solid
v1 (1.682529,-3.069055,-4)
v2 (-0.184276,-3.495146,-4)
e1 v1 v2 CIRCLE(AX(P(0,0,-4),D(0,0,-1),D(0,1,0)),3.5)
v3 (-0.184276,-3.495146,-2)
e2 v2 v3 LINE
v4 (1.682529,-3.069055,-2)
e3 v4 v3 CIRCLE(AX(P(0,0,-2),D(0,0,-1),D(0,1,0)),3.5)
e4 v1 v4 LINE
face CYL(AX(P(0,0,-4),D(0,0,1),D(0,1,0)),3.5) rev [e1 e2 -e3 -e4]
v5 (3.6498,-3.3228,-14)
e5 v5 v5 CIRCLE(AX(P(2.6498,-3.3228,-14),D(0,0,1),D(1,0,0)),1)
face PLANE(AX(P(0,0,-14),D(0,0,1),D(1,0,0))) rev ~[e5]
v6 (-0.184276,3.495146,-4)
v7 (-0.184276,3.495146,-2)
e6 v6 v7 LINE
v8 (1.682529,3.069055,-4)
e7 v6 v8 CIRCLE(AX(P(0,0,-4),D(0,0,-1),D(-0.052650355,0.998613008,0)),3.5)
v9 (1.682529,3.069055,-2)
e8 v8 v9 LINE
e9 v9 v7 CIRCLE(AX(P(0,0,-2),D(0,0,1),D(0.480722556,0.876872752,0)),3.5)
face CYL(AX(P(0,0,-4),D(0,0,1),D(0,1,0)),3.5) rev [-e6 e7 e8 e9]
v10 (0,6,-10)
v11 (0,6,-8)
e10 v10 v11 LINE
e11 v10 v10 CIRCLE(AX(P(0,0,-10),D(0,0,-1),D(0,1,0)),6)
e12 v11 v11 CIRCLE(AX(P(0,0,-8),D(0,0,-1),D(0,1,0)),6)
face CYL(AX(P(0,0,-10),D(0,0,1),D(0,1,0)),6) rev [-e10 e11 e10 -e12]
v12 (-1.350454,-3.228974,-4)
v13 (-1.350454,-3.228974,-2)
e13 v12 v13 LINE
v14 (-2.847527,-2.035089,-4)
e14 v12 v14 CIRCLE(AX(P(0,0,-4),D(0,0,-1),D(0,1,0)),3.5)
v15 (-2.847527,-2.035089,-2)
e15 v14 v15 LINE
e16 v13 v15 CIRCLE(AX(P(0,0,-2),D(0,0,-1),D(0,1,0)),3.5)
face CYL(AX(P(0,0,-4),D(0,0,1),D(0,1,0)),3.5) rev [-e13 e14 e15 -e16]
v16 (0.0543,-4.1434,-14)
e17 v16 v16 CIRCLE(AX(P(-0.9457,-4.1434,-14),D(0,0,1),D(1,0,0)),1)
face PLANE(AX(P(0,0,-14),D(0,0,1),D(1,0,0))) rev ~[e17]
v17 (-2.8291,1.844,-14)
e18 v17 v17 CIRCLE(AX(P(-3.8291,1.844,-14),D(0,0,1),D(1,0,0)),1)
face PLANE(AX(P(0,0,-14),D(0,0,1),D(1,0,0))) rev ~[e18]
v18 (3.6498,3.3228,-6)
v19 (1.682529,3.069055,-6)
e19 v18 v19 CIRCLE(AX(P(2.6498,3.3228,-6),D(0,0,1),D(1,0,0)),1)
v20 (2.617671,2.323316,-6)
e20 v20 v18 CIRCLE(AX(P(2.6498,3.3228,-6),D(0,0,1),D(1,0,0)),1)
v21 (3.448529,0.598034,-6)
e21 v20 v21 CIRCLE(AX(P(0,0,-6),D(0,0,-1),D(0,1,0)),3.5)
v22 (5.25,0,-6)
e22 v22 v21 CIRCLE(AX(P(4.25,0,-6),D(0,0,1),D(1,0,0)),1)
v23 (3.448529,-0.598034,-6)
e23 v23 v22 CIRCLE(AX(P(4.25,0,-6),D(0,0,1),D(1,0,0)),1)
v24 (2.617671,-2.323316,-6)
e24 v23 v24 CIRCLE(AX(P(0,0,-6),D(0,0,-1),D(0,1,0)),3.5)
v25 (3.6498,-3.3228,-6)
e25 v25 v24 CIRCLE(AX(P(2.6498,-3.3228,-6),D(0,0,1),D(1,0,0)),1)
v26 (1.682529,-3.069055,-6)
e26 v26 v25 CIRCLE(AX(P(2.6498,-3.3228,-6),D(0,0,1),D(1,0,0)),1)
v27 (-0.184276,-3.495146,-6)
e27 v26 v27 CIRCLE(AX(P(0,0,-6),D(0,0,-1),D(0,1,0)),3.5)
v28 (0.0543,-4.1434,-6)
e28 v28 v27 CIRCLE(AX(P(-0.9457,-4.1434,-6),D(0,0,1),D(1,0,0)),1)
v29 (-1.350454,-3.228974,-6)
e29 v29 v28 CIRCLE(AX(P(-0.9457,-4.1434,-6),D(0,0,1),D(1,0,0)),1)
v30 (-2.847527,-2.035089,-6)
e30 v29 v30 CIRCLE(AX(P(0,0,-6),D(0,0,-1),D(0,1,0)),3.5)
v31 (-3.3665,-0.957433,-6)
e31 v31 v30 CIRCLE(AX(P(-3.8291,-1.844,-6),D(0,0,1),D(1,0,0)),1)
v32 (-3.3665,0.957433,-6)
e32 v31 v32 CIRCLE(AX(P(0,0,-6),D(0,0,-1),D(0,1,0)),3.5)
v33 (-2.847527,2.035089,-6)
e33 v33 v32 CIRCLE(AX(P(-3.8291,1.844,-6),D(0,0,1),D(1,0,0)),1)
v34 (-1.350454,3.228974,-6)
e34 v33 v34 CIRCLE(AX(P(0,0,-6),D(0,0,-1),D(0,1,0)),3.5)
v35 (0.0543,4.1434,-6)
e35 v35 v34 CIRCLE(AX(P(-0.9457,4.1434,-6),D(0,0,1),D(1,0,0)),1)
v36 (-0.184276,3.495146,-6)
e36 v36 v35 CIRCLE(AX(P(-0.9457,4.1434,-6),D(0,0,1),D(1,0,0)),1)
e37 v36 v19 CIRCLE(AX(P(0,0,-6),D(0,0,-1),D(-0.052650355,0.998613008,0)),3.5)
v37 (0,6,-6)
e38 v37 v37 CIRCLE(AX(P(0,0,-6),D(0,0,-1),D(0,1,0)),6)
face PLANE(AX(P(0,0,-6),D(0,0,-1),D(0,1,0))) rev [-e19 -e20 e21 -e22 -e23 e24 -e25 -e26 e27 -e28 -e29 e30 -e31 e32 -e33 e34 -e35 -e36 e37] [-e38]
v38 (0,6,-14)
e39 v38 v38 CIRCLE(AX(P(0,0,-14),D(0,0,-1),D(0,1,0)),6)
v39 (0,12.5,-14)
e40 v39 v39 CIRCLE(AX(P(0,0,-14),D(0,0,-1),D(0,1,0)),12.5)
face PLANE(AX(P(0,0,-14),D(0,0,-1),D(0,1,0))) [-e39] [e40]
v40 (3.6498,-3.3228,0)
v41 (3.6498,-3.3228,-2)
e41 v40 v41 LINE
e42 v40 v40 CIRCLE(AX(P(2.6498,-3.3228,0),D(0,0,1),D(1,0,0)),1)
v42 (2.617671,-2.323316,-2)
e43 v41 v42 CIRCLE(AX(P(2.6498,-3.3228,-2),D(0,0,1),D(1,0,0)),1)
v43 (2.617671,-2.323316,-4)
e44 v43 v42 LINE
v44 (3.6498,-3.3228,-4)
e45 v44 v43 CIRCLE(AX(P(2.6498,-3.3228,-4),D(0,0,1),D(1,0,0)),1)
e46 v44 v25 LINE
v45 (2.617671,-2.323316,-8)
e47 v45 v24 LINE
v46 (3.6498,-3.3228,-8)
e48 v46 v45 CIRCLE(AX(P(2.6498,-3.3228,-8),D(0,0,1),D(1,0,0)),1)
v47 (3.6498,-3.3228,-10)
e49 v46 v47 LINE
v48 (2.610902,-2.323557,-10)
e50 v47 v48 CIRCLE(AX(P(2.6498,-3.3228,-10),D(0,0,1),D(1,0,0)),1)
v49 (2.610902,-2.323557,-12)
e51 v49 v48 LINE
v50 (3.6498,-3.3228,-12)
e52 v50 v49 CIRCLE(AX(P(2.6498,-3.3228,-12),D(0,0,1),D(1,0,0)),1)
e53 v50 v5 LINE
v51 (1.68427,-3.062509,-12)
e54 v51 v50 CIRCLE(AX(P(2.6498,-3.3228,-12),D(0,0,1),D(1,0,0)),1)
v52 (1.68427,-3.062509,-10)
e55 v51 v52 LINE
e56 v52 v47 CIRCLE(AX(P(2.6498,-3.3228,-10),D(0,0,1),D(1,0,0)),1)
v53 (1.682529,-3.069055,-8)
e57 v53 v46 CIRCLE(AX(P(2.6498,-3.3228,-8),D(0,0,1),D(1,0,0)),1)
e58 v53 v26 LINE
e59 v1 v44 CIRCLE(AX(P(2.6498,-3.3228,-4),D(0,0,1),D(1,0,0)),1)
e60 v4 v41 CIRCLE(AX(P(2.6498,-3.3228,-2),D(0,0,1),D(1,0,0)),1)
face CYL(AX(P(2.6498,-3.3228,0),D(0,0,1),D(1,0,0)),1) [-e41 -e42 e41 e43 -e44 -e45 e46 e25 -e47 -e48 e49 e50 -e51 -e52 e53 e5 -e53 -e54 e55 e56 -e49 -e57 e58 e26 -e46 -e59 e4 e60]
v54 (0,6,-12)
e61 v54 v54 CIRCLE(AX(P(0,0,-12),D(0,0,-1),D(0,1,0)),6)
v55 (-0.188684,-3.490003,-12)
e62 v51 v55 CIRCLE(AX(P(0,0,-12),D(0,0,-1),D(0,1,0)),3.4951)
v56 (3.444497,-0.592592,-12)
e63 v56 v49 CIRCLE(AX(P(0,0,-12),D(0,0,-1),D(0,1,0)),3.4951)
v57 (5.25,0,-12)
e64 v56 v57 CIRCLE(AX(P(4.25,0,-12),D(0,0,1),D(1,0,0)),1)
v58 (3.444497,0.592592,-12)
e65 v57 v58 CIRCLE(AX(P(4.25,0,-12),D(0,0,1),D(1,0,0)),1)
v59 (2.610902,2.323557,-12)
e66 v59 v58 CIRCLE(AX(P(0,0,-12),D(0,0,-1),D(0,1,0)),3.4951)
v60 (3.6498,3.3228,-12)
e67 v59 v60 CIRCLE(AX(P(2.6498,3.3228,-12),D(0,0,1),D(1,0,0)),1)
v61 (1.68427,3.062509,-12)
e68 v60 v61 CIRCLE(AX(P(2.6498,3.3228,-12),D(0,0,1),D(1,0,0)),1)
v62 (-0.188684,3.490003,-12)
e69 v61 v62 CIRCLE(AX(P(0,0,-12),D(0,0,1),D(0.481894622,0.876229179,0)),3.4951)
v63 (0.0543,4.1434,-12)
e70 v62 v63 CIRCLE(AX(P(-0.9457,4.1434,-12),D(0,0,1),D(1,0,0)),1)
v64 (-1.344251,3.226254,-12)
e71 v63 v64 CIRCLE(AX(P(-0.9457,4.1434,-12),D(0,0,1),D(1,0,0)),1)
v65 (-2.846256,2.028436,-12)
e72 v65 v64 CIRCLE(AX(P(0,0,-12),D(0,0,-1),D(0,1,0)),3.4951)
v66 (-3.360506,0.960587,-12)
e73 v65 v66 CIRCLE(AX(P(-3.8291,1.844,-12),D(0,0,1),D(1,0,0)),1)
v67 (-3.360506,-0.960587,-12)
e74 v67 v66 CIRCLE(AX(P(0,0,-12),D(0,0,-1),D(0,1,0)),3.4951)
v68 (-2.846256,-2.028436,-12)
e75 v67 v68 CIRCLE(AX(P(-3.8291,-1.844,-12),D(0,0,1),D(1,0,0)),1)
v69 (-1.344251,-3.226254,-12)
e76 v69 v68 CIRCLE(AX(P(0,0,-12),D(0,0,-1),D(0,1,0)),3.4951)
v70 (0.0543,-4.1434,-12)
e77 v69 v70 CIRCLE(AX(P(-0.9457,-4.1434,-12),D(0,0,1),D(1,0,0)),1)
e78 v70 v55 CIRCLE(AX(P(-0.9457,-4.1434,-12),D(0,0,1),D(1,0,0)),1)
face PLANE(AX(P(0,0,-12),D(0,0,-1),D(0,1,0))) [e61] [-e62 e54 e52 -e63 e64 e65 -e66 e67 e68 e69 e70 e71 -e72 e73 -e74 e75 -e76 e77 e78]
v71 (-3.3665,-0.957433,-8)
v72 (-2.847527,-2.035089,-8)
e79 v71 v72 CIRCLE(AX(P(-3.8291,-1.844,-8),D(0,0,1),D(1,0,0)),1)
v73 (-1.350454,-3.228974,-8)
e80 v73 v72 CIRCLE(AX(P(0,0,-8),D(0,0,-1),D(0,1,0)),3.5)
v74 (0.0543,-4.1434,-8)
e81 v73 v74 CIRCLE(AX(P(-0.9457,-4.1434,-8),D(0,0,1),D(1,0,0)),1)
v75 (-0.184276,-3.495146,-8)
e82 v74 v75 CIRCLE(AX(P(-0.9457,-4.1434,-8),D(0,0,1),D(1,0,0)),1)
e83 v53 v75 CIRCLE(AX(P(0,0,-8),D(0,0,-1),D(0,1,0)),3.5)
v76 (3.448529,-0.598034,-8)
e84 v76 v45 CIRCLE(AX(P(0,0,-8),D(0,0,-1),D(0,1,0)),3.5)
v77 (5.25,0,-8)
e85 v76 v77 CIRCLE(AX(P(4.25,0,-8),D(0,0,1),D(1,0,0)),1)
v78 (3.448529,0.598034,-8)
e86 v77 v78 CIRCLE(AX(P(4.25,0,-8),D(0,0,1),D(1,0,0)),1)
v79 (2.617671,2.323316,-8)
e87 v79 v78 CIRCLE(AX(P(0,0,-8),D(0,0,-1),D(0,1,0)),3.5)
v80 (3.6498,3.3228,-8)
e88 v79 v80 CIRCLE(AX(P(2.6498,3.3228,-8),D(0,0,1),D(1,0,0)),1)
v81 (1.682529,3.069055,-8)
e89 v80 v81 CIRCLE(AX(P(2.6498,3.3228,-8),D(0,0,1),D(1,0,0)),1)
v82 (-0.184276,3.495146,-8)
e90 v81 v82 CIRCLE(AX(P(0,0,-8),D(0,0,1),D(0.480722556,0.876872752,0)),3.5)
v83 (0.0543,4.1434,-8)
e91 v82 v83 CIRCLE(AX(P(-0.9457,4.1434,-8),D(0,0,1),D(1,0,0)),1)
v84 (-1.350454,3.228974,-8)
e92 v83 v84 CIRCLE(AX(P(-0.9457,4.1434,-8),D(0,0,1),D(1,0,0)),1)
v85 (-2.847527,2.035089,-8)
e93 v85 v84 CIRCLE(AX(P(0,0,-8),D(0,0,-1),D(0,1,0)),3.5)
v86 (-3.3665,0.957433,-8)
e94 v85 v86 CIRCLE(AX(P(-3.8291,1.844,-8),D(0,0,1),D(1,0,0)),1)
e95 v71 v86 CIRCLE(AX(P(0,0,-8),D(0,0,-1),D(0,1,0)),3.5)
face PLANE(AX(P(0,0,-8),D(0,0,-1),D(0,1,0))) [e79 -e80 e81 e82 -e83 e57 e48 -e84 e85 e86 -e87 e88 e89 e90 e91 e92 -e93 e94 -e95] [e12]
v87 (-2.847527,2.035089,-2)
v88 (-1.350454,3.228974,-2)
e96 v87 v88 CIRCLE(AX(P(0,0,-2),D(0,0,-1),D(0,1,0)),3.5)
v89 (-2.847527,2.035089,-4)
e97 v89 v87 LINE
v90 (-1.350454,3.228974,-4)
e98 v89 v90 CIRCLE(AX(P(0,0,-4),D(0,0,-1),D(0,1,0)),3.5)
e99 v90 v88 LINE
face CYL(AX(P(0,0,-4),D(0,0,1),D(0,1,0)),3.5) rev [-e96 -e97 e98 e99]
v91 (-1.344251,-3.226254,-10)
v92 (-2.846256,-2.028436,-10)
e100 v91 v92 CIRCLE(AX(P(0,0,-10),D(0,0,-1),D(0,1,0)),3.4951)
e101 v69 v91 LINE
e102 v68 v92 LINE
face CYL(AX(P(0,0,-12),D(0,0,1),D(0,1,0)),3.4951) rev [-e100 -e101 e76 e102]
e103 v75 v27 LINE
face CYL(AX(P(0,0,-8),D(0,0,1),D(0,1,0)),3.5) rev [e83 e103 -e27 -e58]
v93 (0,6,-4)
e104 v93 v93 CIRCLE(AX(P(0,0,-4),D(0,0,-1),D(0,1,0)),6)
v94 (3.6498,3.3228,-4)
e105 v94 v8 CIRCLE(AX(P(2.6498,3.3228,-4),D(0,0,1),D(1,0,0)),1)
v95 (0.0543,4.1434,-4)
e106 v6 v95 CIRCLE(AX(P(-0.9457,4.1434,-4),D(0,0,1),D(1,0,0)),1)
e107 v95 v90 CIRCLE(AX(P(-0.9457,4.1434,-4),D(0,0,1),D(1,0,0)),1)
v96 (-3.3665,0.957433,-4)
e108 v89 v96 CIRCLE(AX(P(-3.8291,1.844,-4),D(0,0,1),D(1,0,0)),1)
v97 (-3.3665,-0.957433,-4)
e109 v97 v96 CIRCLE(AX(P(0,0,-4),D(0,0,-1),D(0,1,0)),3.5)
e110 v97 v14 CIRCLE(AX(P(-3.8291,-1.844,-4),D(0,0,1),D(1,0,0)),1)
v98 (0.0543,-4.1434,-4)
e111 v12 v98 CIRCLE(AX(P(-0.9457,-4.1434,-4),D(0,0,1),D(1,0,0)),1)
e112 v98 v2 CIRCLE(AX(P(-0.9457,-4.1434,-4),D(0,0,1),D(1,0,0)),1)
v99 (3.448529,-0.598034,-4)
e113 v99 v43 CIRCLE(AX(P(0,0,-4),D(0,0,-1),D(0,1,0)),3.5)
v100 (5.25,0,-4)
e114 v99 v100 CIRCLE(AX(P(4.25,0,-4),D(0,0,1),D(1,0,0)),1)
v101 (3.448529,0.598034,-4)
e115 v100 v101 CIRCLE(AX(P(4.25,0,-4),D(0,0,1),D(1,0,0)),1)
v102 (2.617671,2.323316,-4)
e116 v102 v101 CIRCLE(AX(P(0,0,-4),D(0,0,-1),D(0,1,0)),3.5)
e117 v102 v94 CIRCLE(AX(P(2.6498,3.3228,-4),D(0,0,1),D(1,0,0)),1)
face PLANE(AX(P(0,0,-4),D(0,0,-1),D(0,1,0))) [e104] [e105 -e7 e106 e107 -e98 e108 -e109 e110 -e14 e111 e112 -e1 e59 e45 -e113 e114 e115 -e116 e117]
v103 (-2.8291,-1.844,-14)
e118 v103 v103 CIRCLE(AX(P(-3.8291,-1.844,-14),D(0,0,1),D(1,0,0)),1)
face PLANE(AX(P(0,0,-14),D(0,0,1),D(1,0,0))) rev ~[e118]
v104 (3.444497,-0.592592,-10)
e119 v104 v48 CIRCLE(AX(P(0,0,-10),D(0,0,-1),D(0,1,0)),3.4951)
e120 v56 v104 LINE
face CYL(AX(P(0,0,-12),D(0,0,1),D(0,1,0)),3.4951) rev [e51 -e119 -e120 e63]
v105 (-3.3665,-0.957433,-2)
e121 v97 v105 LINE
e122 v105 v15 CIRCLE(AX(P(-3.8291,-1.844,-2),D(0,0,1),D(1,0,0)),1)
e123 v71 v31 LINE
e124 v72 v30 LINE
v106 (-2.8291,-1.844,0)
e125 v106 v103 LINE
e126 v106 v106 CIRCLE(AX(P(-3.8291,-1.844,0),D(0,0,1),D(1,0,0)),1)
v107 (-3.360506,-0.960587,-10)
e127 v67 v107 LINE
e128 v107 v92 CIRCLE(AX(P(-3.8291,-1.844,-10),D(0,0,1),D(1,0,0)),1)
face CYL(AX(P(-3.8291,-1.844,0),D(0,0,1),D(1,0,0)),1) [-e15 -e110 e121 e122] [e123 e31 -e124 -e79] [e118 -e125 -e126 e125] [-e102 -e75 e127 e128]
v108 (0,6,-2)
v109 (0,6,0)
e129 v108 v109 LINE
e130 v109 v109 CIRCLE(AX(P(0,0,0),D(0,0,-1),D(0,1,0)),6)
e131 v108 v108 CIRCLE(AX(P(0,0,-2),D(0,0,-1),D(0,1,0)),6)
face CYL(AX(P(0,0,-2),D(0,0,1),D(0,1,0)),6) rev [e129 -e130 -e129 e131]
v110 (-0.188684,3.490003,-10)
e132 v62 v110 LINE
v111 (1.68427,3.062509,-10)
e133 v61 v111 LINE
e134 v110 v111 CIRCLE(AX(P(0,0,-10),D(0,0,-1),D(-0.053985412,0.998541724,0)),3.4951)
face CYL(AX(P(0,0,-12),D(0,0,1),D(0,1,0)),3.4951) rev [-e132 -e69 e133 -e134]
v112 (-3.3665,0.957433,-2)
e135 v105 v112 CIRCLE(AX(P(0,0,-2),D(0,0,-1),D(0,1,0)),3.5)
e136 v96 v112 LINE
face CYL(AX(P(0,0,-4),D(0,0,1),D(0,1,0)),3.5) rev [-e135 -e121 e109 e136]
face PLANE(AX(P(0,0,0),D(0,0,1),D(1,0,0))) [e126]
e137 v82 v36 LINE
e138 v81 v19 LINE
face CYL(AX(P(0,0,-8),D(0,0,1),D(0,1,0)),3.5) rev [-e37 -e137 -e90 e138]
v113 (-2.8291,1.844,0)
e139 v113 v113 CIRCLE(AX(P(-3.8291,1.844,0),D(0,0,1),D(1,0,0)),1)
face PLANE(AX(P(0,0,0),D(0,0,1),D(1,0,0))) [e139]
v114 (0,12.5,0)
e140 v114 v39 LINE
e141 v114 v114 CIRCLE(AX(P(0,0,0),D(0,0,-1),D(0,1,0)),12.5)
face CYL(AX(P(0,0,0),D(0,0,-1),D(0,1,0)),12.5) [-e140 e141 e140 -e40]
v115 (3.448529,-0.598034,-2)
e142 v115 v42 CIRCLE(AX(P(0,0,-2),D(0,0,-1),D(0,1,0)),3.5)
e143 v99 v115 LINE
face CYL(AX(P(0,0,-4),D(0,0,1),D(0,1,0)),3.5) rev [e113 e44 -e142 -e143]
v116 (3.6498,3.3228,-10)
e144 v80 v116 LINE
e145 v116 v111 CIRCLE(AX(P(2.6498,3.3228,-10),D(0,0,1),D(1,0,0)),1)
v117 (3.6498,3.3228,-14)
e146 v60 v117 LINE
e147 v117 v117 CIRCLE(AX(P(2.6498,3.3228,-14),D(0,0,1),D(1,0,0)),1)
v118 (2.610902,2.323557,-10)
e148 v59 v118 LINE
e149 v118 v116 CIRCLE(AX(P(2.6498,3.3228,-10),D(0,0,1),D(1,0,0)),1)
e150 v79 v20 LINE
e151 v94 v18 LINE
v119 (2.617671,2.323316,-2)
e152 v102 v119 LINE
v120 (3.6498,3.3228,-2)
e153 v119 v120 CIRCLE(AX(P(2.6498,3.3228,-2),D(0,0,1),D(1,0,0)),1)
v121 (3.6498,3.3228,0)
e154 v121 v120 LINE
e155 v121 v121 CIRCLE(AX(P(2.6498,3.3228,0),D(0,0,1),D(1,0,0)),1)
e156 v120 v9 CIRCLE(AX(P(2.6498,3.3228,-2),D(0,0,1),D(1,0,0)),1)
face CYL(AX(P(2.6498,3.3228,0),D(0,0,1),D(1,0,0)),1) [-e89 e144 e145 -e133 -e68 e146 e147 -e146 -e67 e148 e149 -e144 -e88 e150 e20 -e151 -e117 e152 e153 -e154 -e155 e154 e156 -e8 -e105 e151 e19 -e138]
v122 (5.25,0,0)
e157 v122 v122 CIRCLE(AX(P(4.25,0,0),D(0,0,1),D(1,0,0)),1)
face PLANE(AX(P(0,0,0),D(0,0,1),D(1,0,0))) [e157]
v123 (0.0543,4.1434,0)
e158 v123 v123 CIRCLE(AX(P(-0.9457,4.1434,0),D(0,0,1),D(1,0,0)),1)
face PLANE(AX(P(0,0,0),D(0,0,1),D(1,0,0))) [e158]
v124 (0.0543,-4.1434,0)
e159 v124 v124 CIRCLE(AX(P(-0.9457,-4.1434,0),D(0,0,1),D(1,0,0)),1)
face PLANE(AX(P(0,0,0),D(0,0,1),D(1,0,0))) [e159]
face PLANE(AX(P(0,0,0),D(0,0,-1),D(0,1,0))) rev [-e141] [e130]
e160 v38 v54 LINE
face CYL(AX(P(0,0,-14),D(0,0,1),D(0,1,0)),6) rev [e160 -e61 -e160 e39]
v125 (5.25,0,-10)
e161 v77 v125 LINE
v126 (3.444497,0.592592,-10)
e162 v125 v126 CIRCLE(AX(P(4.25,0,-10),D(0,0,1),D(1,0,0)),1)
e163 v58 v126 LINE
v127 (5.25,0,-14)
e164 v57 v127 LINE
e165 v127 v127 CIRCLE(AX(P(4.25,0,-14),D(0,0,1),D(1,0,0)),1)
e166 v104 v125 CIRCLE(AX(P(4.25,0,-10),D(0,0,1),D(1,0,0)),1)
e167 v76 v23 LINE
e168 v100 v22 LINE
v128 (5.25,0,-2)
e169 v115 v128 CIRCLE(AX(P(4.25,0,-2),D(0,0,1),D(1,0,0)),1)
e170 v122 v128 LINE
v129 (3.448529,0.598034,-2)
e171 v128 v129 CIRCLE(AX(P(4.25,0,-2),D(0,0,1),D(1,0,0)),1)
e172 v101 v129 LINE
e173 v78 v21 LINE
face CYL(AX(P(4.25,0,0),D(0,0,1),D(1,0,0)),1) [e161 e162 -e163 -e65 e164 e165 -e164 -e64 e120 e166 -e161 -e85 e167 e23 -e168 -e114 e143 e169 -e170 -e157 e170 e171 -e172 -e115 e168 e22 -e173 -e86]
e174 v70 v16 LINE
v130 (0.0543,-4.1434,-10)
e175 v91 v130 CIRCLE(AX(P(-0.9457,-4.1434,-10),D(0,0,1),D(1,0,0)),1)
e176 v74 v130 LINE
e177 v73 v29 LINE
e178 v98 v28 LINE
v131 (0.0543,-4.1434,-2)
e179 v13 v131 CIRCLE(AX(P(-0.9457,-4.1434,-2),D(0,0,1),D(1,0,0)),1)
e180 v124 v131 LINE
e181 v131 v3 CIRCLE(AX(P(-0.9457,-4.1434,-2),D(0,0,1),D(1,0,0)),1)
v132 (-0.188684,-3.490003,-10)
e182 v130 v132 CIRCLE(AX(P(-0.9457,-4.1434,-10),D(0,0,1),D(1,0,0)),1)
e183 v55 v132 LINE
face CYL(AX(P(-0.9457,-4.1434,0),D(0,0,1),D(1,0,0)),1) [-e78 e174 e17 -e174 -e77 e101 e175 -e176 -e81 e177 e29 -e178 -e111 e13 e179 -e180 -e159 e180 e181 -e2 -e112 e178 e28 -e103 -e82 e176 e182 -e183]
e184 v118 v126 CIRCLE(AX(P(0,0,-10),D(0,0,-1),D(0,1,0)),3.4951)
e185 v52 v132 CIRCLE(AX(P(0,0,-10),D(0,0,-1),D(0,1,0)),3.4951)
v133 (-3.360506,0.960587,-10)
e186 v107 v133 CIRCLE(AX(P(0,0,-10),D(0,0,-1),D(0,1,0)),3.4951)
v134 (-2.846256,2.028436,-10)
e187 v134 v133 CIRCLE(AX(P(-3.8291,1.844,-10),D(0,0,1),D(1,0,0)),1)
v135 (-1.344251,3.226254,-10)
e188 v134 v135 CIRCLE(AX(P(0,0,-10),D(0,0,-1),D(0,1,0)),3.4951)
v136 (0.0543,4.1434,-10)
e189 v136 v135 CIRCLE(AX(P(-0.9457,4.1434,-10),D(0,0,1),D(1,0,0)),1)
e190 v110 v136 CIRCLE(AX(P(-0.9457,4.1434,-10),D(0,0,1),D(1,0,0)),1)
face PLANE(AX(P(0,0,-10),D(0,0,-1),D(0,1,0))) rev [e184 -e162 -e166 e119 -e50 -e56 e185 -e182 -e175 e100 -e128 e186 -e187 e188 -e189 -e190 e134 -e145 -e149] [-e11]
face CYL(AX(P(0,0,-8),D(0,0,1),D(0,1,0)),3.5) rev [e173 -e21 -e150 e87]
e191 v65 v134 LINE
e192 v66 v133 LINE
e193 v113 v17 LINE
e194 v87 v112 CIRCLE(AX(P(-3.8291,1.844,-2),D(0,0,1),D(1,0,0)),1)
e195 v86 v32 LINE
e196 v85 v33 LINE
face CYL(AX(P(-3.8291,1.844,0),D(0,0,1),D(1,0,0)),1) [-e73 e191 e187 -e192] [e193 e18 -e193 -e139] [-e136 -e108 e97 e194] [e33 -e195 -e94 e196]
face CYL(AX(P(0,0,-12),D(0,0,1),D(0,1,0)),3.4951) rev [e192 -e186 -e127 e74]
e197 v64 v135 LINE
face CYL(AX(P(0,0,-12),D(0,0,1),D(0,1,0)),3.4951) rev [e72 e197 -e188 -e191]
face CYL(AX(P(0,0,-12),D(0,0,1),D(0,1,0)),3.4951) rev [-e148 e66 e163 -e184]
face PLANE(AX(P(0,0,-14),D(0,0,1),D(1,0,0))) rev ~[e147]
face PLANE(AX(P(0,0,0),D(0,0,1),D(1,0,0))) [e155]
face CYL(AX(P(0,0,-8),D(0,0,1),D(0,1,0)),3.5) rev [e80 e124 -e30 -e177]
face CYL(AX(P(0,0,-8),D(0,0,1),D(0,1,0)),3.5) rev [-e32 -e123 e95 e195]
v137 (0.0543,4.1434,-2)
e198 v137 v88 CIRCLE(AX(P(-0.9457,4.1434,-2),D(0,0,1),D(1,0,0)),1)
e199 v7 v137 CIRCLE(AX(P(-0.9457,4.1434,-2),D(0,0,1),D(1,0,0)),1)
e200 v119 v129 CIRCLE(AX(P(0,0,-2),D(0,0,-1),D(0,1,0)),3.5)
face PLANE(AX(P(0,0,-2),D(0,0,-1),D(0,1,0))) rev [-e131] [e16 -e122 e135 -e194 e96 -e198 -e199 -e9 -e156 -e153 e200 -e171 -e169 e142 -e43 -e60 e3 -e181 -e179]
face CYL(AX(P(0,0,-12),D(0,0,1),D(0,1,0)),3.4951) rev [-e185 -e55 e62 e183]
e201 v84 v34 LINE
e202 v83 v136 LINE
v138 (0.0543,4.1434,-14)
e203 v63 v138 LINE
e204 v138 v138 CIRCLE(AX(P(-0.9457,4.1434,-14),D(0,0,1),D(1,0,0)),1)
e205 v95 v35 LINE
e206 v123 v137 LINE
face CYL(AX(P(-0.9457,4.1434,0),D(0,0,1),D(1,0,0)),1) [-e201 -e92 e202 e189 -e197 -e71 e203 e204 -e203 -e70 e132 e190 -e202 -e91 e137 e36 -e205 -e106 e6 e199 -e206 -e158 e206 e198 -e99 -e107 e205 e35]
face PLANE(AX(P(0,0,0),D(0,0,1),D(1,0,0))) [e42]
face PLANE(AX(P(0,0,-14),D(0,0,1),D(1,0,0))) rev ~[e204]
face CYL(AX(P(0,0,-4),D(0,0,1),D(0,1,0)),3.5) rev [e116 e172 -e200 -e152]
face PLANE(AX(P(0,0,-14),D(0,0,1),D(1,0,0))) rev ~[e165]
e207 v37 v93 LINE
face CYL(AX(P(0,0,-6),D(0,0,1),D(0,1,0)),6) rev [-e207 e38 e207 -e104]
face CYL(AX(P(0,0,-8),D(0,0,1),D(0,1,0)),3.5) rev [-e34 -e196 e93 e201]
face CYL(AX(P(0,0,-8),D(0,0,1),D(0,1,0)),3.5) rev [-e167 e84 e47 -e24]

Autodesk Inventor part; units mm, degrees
ref_plane "YZ Plane" through (0, 0, 0) normal (1, 0, 0) x (0, 1, 0)
ref_plane "XZ Plane" through (0, 0, 0) normal (0, 1, 0) x (-1, 0, 0)
ref_plane "XY Plane" through (0, 0, 0) normal (0, 0, 1) x (1, 0, 0)
sketch "Sketch1" plane through (0, 0, 0) normal (1, 0, 0) x (0, 1, 0)
  line L0 (3.5, -4) -> (3.5, -2)
  line L1 (6, -2) -> (6, 0)
  line L2 (6, -6) -> (6, -4)
  line L3 (3.5, -8) -> (3.5, -6)
  line L4 (6, -10) -> (6, -8)
  line L5 (3.4951, -12) -> (3.4951, -10) projected
  line L6 (6, -14) -> (6, -12)
  line L7 (0, 0) -> (0, -14)
  line L8 (6, 0) -> (12.5, 0)
  line L9 (12.5, 0) -> (12.5, -14)
  line L10 (12.5, -14) -> (6, -14)
  line L11 (6, -12) -> (3.4951, -12)
  line L12 (3.4951, -10) -> (6, -10)
  line L13 (6, -8) -> (3.5, -8)
  line L14 (3.5, -6) -> (6, -6)
  line L15 (6, -4) -> (3.5, -4)
  line L16 (3.5, -2) -> (6, -2)
  point P0 (9.25, 0)
  dimension "d1" = 12.5
revolve "Revolution1" add sketch "Sketch1" angle 360 about axis through (0, 0, 0) along (0, 0, -1)
sketch "Sketch2" plane through (0, 0, 0) normal (0, 0, 1) x (1, 0, 0)
  circle A0 centre (-0.9457, -4.1434) radius 1 projected
  circle A1 centre (-3.8291, 1.844) radius 1 projected
  circle A2 centre (2.6498, 3.3228) radius 1 projected
  circle A3 centre (4.25, 0) radius 1 projected
  circle A4 centre (-0.9457, 4.1434) radius 1 projected
  circle A5 centre (-3.8291, -1.844) radius 1 projected
  circle A6 centre (2.6498, -3.3228) radius 1 projected
  circle A7 centre (0, 0) radius 6 projected
  point P0 (0, 0)
extrude "Extrusion1" add sketch "Sketch2" against normal up to surface (14 mm away) contours A0 | A1 | A2 | A3 | A4 | A5 | A6
properties part number "opona" material "Rubber, Silicone"
